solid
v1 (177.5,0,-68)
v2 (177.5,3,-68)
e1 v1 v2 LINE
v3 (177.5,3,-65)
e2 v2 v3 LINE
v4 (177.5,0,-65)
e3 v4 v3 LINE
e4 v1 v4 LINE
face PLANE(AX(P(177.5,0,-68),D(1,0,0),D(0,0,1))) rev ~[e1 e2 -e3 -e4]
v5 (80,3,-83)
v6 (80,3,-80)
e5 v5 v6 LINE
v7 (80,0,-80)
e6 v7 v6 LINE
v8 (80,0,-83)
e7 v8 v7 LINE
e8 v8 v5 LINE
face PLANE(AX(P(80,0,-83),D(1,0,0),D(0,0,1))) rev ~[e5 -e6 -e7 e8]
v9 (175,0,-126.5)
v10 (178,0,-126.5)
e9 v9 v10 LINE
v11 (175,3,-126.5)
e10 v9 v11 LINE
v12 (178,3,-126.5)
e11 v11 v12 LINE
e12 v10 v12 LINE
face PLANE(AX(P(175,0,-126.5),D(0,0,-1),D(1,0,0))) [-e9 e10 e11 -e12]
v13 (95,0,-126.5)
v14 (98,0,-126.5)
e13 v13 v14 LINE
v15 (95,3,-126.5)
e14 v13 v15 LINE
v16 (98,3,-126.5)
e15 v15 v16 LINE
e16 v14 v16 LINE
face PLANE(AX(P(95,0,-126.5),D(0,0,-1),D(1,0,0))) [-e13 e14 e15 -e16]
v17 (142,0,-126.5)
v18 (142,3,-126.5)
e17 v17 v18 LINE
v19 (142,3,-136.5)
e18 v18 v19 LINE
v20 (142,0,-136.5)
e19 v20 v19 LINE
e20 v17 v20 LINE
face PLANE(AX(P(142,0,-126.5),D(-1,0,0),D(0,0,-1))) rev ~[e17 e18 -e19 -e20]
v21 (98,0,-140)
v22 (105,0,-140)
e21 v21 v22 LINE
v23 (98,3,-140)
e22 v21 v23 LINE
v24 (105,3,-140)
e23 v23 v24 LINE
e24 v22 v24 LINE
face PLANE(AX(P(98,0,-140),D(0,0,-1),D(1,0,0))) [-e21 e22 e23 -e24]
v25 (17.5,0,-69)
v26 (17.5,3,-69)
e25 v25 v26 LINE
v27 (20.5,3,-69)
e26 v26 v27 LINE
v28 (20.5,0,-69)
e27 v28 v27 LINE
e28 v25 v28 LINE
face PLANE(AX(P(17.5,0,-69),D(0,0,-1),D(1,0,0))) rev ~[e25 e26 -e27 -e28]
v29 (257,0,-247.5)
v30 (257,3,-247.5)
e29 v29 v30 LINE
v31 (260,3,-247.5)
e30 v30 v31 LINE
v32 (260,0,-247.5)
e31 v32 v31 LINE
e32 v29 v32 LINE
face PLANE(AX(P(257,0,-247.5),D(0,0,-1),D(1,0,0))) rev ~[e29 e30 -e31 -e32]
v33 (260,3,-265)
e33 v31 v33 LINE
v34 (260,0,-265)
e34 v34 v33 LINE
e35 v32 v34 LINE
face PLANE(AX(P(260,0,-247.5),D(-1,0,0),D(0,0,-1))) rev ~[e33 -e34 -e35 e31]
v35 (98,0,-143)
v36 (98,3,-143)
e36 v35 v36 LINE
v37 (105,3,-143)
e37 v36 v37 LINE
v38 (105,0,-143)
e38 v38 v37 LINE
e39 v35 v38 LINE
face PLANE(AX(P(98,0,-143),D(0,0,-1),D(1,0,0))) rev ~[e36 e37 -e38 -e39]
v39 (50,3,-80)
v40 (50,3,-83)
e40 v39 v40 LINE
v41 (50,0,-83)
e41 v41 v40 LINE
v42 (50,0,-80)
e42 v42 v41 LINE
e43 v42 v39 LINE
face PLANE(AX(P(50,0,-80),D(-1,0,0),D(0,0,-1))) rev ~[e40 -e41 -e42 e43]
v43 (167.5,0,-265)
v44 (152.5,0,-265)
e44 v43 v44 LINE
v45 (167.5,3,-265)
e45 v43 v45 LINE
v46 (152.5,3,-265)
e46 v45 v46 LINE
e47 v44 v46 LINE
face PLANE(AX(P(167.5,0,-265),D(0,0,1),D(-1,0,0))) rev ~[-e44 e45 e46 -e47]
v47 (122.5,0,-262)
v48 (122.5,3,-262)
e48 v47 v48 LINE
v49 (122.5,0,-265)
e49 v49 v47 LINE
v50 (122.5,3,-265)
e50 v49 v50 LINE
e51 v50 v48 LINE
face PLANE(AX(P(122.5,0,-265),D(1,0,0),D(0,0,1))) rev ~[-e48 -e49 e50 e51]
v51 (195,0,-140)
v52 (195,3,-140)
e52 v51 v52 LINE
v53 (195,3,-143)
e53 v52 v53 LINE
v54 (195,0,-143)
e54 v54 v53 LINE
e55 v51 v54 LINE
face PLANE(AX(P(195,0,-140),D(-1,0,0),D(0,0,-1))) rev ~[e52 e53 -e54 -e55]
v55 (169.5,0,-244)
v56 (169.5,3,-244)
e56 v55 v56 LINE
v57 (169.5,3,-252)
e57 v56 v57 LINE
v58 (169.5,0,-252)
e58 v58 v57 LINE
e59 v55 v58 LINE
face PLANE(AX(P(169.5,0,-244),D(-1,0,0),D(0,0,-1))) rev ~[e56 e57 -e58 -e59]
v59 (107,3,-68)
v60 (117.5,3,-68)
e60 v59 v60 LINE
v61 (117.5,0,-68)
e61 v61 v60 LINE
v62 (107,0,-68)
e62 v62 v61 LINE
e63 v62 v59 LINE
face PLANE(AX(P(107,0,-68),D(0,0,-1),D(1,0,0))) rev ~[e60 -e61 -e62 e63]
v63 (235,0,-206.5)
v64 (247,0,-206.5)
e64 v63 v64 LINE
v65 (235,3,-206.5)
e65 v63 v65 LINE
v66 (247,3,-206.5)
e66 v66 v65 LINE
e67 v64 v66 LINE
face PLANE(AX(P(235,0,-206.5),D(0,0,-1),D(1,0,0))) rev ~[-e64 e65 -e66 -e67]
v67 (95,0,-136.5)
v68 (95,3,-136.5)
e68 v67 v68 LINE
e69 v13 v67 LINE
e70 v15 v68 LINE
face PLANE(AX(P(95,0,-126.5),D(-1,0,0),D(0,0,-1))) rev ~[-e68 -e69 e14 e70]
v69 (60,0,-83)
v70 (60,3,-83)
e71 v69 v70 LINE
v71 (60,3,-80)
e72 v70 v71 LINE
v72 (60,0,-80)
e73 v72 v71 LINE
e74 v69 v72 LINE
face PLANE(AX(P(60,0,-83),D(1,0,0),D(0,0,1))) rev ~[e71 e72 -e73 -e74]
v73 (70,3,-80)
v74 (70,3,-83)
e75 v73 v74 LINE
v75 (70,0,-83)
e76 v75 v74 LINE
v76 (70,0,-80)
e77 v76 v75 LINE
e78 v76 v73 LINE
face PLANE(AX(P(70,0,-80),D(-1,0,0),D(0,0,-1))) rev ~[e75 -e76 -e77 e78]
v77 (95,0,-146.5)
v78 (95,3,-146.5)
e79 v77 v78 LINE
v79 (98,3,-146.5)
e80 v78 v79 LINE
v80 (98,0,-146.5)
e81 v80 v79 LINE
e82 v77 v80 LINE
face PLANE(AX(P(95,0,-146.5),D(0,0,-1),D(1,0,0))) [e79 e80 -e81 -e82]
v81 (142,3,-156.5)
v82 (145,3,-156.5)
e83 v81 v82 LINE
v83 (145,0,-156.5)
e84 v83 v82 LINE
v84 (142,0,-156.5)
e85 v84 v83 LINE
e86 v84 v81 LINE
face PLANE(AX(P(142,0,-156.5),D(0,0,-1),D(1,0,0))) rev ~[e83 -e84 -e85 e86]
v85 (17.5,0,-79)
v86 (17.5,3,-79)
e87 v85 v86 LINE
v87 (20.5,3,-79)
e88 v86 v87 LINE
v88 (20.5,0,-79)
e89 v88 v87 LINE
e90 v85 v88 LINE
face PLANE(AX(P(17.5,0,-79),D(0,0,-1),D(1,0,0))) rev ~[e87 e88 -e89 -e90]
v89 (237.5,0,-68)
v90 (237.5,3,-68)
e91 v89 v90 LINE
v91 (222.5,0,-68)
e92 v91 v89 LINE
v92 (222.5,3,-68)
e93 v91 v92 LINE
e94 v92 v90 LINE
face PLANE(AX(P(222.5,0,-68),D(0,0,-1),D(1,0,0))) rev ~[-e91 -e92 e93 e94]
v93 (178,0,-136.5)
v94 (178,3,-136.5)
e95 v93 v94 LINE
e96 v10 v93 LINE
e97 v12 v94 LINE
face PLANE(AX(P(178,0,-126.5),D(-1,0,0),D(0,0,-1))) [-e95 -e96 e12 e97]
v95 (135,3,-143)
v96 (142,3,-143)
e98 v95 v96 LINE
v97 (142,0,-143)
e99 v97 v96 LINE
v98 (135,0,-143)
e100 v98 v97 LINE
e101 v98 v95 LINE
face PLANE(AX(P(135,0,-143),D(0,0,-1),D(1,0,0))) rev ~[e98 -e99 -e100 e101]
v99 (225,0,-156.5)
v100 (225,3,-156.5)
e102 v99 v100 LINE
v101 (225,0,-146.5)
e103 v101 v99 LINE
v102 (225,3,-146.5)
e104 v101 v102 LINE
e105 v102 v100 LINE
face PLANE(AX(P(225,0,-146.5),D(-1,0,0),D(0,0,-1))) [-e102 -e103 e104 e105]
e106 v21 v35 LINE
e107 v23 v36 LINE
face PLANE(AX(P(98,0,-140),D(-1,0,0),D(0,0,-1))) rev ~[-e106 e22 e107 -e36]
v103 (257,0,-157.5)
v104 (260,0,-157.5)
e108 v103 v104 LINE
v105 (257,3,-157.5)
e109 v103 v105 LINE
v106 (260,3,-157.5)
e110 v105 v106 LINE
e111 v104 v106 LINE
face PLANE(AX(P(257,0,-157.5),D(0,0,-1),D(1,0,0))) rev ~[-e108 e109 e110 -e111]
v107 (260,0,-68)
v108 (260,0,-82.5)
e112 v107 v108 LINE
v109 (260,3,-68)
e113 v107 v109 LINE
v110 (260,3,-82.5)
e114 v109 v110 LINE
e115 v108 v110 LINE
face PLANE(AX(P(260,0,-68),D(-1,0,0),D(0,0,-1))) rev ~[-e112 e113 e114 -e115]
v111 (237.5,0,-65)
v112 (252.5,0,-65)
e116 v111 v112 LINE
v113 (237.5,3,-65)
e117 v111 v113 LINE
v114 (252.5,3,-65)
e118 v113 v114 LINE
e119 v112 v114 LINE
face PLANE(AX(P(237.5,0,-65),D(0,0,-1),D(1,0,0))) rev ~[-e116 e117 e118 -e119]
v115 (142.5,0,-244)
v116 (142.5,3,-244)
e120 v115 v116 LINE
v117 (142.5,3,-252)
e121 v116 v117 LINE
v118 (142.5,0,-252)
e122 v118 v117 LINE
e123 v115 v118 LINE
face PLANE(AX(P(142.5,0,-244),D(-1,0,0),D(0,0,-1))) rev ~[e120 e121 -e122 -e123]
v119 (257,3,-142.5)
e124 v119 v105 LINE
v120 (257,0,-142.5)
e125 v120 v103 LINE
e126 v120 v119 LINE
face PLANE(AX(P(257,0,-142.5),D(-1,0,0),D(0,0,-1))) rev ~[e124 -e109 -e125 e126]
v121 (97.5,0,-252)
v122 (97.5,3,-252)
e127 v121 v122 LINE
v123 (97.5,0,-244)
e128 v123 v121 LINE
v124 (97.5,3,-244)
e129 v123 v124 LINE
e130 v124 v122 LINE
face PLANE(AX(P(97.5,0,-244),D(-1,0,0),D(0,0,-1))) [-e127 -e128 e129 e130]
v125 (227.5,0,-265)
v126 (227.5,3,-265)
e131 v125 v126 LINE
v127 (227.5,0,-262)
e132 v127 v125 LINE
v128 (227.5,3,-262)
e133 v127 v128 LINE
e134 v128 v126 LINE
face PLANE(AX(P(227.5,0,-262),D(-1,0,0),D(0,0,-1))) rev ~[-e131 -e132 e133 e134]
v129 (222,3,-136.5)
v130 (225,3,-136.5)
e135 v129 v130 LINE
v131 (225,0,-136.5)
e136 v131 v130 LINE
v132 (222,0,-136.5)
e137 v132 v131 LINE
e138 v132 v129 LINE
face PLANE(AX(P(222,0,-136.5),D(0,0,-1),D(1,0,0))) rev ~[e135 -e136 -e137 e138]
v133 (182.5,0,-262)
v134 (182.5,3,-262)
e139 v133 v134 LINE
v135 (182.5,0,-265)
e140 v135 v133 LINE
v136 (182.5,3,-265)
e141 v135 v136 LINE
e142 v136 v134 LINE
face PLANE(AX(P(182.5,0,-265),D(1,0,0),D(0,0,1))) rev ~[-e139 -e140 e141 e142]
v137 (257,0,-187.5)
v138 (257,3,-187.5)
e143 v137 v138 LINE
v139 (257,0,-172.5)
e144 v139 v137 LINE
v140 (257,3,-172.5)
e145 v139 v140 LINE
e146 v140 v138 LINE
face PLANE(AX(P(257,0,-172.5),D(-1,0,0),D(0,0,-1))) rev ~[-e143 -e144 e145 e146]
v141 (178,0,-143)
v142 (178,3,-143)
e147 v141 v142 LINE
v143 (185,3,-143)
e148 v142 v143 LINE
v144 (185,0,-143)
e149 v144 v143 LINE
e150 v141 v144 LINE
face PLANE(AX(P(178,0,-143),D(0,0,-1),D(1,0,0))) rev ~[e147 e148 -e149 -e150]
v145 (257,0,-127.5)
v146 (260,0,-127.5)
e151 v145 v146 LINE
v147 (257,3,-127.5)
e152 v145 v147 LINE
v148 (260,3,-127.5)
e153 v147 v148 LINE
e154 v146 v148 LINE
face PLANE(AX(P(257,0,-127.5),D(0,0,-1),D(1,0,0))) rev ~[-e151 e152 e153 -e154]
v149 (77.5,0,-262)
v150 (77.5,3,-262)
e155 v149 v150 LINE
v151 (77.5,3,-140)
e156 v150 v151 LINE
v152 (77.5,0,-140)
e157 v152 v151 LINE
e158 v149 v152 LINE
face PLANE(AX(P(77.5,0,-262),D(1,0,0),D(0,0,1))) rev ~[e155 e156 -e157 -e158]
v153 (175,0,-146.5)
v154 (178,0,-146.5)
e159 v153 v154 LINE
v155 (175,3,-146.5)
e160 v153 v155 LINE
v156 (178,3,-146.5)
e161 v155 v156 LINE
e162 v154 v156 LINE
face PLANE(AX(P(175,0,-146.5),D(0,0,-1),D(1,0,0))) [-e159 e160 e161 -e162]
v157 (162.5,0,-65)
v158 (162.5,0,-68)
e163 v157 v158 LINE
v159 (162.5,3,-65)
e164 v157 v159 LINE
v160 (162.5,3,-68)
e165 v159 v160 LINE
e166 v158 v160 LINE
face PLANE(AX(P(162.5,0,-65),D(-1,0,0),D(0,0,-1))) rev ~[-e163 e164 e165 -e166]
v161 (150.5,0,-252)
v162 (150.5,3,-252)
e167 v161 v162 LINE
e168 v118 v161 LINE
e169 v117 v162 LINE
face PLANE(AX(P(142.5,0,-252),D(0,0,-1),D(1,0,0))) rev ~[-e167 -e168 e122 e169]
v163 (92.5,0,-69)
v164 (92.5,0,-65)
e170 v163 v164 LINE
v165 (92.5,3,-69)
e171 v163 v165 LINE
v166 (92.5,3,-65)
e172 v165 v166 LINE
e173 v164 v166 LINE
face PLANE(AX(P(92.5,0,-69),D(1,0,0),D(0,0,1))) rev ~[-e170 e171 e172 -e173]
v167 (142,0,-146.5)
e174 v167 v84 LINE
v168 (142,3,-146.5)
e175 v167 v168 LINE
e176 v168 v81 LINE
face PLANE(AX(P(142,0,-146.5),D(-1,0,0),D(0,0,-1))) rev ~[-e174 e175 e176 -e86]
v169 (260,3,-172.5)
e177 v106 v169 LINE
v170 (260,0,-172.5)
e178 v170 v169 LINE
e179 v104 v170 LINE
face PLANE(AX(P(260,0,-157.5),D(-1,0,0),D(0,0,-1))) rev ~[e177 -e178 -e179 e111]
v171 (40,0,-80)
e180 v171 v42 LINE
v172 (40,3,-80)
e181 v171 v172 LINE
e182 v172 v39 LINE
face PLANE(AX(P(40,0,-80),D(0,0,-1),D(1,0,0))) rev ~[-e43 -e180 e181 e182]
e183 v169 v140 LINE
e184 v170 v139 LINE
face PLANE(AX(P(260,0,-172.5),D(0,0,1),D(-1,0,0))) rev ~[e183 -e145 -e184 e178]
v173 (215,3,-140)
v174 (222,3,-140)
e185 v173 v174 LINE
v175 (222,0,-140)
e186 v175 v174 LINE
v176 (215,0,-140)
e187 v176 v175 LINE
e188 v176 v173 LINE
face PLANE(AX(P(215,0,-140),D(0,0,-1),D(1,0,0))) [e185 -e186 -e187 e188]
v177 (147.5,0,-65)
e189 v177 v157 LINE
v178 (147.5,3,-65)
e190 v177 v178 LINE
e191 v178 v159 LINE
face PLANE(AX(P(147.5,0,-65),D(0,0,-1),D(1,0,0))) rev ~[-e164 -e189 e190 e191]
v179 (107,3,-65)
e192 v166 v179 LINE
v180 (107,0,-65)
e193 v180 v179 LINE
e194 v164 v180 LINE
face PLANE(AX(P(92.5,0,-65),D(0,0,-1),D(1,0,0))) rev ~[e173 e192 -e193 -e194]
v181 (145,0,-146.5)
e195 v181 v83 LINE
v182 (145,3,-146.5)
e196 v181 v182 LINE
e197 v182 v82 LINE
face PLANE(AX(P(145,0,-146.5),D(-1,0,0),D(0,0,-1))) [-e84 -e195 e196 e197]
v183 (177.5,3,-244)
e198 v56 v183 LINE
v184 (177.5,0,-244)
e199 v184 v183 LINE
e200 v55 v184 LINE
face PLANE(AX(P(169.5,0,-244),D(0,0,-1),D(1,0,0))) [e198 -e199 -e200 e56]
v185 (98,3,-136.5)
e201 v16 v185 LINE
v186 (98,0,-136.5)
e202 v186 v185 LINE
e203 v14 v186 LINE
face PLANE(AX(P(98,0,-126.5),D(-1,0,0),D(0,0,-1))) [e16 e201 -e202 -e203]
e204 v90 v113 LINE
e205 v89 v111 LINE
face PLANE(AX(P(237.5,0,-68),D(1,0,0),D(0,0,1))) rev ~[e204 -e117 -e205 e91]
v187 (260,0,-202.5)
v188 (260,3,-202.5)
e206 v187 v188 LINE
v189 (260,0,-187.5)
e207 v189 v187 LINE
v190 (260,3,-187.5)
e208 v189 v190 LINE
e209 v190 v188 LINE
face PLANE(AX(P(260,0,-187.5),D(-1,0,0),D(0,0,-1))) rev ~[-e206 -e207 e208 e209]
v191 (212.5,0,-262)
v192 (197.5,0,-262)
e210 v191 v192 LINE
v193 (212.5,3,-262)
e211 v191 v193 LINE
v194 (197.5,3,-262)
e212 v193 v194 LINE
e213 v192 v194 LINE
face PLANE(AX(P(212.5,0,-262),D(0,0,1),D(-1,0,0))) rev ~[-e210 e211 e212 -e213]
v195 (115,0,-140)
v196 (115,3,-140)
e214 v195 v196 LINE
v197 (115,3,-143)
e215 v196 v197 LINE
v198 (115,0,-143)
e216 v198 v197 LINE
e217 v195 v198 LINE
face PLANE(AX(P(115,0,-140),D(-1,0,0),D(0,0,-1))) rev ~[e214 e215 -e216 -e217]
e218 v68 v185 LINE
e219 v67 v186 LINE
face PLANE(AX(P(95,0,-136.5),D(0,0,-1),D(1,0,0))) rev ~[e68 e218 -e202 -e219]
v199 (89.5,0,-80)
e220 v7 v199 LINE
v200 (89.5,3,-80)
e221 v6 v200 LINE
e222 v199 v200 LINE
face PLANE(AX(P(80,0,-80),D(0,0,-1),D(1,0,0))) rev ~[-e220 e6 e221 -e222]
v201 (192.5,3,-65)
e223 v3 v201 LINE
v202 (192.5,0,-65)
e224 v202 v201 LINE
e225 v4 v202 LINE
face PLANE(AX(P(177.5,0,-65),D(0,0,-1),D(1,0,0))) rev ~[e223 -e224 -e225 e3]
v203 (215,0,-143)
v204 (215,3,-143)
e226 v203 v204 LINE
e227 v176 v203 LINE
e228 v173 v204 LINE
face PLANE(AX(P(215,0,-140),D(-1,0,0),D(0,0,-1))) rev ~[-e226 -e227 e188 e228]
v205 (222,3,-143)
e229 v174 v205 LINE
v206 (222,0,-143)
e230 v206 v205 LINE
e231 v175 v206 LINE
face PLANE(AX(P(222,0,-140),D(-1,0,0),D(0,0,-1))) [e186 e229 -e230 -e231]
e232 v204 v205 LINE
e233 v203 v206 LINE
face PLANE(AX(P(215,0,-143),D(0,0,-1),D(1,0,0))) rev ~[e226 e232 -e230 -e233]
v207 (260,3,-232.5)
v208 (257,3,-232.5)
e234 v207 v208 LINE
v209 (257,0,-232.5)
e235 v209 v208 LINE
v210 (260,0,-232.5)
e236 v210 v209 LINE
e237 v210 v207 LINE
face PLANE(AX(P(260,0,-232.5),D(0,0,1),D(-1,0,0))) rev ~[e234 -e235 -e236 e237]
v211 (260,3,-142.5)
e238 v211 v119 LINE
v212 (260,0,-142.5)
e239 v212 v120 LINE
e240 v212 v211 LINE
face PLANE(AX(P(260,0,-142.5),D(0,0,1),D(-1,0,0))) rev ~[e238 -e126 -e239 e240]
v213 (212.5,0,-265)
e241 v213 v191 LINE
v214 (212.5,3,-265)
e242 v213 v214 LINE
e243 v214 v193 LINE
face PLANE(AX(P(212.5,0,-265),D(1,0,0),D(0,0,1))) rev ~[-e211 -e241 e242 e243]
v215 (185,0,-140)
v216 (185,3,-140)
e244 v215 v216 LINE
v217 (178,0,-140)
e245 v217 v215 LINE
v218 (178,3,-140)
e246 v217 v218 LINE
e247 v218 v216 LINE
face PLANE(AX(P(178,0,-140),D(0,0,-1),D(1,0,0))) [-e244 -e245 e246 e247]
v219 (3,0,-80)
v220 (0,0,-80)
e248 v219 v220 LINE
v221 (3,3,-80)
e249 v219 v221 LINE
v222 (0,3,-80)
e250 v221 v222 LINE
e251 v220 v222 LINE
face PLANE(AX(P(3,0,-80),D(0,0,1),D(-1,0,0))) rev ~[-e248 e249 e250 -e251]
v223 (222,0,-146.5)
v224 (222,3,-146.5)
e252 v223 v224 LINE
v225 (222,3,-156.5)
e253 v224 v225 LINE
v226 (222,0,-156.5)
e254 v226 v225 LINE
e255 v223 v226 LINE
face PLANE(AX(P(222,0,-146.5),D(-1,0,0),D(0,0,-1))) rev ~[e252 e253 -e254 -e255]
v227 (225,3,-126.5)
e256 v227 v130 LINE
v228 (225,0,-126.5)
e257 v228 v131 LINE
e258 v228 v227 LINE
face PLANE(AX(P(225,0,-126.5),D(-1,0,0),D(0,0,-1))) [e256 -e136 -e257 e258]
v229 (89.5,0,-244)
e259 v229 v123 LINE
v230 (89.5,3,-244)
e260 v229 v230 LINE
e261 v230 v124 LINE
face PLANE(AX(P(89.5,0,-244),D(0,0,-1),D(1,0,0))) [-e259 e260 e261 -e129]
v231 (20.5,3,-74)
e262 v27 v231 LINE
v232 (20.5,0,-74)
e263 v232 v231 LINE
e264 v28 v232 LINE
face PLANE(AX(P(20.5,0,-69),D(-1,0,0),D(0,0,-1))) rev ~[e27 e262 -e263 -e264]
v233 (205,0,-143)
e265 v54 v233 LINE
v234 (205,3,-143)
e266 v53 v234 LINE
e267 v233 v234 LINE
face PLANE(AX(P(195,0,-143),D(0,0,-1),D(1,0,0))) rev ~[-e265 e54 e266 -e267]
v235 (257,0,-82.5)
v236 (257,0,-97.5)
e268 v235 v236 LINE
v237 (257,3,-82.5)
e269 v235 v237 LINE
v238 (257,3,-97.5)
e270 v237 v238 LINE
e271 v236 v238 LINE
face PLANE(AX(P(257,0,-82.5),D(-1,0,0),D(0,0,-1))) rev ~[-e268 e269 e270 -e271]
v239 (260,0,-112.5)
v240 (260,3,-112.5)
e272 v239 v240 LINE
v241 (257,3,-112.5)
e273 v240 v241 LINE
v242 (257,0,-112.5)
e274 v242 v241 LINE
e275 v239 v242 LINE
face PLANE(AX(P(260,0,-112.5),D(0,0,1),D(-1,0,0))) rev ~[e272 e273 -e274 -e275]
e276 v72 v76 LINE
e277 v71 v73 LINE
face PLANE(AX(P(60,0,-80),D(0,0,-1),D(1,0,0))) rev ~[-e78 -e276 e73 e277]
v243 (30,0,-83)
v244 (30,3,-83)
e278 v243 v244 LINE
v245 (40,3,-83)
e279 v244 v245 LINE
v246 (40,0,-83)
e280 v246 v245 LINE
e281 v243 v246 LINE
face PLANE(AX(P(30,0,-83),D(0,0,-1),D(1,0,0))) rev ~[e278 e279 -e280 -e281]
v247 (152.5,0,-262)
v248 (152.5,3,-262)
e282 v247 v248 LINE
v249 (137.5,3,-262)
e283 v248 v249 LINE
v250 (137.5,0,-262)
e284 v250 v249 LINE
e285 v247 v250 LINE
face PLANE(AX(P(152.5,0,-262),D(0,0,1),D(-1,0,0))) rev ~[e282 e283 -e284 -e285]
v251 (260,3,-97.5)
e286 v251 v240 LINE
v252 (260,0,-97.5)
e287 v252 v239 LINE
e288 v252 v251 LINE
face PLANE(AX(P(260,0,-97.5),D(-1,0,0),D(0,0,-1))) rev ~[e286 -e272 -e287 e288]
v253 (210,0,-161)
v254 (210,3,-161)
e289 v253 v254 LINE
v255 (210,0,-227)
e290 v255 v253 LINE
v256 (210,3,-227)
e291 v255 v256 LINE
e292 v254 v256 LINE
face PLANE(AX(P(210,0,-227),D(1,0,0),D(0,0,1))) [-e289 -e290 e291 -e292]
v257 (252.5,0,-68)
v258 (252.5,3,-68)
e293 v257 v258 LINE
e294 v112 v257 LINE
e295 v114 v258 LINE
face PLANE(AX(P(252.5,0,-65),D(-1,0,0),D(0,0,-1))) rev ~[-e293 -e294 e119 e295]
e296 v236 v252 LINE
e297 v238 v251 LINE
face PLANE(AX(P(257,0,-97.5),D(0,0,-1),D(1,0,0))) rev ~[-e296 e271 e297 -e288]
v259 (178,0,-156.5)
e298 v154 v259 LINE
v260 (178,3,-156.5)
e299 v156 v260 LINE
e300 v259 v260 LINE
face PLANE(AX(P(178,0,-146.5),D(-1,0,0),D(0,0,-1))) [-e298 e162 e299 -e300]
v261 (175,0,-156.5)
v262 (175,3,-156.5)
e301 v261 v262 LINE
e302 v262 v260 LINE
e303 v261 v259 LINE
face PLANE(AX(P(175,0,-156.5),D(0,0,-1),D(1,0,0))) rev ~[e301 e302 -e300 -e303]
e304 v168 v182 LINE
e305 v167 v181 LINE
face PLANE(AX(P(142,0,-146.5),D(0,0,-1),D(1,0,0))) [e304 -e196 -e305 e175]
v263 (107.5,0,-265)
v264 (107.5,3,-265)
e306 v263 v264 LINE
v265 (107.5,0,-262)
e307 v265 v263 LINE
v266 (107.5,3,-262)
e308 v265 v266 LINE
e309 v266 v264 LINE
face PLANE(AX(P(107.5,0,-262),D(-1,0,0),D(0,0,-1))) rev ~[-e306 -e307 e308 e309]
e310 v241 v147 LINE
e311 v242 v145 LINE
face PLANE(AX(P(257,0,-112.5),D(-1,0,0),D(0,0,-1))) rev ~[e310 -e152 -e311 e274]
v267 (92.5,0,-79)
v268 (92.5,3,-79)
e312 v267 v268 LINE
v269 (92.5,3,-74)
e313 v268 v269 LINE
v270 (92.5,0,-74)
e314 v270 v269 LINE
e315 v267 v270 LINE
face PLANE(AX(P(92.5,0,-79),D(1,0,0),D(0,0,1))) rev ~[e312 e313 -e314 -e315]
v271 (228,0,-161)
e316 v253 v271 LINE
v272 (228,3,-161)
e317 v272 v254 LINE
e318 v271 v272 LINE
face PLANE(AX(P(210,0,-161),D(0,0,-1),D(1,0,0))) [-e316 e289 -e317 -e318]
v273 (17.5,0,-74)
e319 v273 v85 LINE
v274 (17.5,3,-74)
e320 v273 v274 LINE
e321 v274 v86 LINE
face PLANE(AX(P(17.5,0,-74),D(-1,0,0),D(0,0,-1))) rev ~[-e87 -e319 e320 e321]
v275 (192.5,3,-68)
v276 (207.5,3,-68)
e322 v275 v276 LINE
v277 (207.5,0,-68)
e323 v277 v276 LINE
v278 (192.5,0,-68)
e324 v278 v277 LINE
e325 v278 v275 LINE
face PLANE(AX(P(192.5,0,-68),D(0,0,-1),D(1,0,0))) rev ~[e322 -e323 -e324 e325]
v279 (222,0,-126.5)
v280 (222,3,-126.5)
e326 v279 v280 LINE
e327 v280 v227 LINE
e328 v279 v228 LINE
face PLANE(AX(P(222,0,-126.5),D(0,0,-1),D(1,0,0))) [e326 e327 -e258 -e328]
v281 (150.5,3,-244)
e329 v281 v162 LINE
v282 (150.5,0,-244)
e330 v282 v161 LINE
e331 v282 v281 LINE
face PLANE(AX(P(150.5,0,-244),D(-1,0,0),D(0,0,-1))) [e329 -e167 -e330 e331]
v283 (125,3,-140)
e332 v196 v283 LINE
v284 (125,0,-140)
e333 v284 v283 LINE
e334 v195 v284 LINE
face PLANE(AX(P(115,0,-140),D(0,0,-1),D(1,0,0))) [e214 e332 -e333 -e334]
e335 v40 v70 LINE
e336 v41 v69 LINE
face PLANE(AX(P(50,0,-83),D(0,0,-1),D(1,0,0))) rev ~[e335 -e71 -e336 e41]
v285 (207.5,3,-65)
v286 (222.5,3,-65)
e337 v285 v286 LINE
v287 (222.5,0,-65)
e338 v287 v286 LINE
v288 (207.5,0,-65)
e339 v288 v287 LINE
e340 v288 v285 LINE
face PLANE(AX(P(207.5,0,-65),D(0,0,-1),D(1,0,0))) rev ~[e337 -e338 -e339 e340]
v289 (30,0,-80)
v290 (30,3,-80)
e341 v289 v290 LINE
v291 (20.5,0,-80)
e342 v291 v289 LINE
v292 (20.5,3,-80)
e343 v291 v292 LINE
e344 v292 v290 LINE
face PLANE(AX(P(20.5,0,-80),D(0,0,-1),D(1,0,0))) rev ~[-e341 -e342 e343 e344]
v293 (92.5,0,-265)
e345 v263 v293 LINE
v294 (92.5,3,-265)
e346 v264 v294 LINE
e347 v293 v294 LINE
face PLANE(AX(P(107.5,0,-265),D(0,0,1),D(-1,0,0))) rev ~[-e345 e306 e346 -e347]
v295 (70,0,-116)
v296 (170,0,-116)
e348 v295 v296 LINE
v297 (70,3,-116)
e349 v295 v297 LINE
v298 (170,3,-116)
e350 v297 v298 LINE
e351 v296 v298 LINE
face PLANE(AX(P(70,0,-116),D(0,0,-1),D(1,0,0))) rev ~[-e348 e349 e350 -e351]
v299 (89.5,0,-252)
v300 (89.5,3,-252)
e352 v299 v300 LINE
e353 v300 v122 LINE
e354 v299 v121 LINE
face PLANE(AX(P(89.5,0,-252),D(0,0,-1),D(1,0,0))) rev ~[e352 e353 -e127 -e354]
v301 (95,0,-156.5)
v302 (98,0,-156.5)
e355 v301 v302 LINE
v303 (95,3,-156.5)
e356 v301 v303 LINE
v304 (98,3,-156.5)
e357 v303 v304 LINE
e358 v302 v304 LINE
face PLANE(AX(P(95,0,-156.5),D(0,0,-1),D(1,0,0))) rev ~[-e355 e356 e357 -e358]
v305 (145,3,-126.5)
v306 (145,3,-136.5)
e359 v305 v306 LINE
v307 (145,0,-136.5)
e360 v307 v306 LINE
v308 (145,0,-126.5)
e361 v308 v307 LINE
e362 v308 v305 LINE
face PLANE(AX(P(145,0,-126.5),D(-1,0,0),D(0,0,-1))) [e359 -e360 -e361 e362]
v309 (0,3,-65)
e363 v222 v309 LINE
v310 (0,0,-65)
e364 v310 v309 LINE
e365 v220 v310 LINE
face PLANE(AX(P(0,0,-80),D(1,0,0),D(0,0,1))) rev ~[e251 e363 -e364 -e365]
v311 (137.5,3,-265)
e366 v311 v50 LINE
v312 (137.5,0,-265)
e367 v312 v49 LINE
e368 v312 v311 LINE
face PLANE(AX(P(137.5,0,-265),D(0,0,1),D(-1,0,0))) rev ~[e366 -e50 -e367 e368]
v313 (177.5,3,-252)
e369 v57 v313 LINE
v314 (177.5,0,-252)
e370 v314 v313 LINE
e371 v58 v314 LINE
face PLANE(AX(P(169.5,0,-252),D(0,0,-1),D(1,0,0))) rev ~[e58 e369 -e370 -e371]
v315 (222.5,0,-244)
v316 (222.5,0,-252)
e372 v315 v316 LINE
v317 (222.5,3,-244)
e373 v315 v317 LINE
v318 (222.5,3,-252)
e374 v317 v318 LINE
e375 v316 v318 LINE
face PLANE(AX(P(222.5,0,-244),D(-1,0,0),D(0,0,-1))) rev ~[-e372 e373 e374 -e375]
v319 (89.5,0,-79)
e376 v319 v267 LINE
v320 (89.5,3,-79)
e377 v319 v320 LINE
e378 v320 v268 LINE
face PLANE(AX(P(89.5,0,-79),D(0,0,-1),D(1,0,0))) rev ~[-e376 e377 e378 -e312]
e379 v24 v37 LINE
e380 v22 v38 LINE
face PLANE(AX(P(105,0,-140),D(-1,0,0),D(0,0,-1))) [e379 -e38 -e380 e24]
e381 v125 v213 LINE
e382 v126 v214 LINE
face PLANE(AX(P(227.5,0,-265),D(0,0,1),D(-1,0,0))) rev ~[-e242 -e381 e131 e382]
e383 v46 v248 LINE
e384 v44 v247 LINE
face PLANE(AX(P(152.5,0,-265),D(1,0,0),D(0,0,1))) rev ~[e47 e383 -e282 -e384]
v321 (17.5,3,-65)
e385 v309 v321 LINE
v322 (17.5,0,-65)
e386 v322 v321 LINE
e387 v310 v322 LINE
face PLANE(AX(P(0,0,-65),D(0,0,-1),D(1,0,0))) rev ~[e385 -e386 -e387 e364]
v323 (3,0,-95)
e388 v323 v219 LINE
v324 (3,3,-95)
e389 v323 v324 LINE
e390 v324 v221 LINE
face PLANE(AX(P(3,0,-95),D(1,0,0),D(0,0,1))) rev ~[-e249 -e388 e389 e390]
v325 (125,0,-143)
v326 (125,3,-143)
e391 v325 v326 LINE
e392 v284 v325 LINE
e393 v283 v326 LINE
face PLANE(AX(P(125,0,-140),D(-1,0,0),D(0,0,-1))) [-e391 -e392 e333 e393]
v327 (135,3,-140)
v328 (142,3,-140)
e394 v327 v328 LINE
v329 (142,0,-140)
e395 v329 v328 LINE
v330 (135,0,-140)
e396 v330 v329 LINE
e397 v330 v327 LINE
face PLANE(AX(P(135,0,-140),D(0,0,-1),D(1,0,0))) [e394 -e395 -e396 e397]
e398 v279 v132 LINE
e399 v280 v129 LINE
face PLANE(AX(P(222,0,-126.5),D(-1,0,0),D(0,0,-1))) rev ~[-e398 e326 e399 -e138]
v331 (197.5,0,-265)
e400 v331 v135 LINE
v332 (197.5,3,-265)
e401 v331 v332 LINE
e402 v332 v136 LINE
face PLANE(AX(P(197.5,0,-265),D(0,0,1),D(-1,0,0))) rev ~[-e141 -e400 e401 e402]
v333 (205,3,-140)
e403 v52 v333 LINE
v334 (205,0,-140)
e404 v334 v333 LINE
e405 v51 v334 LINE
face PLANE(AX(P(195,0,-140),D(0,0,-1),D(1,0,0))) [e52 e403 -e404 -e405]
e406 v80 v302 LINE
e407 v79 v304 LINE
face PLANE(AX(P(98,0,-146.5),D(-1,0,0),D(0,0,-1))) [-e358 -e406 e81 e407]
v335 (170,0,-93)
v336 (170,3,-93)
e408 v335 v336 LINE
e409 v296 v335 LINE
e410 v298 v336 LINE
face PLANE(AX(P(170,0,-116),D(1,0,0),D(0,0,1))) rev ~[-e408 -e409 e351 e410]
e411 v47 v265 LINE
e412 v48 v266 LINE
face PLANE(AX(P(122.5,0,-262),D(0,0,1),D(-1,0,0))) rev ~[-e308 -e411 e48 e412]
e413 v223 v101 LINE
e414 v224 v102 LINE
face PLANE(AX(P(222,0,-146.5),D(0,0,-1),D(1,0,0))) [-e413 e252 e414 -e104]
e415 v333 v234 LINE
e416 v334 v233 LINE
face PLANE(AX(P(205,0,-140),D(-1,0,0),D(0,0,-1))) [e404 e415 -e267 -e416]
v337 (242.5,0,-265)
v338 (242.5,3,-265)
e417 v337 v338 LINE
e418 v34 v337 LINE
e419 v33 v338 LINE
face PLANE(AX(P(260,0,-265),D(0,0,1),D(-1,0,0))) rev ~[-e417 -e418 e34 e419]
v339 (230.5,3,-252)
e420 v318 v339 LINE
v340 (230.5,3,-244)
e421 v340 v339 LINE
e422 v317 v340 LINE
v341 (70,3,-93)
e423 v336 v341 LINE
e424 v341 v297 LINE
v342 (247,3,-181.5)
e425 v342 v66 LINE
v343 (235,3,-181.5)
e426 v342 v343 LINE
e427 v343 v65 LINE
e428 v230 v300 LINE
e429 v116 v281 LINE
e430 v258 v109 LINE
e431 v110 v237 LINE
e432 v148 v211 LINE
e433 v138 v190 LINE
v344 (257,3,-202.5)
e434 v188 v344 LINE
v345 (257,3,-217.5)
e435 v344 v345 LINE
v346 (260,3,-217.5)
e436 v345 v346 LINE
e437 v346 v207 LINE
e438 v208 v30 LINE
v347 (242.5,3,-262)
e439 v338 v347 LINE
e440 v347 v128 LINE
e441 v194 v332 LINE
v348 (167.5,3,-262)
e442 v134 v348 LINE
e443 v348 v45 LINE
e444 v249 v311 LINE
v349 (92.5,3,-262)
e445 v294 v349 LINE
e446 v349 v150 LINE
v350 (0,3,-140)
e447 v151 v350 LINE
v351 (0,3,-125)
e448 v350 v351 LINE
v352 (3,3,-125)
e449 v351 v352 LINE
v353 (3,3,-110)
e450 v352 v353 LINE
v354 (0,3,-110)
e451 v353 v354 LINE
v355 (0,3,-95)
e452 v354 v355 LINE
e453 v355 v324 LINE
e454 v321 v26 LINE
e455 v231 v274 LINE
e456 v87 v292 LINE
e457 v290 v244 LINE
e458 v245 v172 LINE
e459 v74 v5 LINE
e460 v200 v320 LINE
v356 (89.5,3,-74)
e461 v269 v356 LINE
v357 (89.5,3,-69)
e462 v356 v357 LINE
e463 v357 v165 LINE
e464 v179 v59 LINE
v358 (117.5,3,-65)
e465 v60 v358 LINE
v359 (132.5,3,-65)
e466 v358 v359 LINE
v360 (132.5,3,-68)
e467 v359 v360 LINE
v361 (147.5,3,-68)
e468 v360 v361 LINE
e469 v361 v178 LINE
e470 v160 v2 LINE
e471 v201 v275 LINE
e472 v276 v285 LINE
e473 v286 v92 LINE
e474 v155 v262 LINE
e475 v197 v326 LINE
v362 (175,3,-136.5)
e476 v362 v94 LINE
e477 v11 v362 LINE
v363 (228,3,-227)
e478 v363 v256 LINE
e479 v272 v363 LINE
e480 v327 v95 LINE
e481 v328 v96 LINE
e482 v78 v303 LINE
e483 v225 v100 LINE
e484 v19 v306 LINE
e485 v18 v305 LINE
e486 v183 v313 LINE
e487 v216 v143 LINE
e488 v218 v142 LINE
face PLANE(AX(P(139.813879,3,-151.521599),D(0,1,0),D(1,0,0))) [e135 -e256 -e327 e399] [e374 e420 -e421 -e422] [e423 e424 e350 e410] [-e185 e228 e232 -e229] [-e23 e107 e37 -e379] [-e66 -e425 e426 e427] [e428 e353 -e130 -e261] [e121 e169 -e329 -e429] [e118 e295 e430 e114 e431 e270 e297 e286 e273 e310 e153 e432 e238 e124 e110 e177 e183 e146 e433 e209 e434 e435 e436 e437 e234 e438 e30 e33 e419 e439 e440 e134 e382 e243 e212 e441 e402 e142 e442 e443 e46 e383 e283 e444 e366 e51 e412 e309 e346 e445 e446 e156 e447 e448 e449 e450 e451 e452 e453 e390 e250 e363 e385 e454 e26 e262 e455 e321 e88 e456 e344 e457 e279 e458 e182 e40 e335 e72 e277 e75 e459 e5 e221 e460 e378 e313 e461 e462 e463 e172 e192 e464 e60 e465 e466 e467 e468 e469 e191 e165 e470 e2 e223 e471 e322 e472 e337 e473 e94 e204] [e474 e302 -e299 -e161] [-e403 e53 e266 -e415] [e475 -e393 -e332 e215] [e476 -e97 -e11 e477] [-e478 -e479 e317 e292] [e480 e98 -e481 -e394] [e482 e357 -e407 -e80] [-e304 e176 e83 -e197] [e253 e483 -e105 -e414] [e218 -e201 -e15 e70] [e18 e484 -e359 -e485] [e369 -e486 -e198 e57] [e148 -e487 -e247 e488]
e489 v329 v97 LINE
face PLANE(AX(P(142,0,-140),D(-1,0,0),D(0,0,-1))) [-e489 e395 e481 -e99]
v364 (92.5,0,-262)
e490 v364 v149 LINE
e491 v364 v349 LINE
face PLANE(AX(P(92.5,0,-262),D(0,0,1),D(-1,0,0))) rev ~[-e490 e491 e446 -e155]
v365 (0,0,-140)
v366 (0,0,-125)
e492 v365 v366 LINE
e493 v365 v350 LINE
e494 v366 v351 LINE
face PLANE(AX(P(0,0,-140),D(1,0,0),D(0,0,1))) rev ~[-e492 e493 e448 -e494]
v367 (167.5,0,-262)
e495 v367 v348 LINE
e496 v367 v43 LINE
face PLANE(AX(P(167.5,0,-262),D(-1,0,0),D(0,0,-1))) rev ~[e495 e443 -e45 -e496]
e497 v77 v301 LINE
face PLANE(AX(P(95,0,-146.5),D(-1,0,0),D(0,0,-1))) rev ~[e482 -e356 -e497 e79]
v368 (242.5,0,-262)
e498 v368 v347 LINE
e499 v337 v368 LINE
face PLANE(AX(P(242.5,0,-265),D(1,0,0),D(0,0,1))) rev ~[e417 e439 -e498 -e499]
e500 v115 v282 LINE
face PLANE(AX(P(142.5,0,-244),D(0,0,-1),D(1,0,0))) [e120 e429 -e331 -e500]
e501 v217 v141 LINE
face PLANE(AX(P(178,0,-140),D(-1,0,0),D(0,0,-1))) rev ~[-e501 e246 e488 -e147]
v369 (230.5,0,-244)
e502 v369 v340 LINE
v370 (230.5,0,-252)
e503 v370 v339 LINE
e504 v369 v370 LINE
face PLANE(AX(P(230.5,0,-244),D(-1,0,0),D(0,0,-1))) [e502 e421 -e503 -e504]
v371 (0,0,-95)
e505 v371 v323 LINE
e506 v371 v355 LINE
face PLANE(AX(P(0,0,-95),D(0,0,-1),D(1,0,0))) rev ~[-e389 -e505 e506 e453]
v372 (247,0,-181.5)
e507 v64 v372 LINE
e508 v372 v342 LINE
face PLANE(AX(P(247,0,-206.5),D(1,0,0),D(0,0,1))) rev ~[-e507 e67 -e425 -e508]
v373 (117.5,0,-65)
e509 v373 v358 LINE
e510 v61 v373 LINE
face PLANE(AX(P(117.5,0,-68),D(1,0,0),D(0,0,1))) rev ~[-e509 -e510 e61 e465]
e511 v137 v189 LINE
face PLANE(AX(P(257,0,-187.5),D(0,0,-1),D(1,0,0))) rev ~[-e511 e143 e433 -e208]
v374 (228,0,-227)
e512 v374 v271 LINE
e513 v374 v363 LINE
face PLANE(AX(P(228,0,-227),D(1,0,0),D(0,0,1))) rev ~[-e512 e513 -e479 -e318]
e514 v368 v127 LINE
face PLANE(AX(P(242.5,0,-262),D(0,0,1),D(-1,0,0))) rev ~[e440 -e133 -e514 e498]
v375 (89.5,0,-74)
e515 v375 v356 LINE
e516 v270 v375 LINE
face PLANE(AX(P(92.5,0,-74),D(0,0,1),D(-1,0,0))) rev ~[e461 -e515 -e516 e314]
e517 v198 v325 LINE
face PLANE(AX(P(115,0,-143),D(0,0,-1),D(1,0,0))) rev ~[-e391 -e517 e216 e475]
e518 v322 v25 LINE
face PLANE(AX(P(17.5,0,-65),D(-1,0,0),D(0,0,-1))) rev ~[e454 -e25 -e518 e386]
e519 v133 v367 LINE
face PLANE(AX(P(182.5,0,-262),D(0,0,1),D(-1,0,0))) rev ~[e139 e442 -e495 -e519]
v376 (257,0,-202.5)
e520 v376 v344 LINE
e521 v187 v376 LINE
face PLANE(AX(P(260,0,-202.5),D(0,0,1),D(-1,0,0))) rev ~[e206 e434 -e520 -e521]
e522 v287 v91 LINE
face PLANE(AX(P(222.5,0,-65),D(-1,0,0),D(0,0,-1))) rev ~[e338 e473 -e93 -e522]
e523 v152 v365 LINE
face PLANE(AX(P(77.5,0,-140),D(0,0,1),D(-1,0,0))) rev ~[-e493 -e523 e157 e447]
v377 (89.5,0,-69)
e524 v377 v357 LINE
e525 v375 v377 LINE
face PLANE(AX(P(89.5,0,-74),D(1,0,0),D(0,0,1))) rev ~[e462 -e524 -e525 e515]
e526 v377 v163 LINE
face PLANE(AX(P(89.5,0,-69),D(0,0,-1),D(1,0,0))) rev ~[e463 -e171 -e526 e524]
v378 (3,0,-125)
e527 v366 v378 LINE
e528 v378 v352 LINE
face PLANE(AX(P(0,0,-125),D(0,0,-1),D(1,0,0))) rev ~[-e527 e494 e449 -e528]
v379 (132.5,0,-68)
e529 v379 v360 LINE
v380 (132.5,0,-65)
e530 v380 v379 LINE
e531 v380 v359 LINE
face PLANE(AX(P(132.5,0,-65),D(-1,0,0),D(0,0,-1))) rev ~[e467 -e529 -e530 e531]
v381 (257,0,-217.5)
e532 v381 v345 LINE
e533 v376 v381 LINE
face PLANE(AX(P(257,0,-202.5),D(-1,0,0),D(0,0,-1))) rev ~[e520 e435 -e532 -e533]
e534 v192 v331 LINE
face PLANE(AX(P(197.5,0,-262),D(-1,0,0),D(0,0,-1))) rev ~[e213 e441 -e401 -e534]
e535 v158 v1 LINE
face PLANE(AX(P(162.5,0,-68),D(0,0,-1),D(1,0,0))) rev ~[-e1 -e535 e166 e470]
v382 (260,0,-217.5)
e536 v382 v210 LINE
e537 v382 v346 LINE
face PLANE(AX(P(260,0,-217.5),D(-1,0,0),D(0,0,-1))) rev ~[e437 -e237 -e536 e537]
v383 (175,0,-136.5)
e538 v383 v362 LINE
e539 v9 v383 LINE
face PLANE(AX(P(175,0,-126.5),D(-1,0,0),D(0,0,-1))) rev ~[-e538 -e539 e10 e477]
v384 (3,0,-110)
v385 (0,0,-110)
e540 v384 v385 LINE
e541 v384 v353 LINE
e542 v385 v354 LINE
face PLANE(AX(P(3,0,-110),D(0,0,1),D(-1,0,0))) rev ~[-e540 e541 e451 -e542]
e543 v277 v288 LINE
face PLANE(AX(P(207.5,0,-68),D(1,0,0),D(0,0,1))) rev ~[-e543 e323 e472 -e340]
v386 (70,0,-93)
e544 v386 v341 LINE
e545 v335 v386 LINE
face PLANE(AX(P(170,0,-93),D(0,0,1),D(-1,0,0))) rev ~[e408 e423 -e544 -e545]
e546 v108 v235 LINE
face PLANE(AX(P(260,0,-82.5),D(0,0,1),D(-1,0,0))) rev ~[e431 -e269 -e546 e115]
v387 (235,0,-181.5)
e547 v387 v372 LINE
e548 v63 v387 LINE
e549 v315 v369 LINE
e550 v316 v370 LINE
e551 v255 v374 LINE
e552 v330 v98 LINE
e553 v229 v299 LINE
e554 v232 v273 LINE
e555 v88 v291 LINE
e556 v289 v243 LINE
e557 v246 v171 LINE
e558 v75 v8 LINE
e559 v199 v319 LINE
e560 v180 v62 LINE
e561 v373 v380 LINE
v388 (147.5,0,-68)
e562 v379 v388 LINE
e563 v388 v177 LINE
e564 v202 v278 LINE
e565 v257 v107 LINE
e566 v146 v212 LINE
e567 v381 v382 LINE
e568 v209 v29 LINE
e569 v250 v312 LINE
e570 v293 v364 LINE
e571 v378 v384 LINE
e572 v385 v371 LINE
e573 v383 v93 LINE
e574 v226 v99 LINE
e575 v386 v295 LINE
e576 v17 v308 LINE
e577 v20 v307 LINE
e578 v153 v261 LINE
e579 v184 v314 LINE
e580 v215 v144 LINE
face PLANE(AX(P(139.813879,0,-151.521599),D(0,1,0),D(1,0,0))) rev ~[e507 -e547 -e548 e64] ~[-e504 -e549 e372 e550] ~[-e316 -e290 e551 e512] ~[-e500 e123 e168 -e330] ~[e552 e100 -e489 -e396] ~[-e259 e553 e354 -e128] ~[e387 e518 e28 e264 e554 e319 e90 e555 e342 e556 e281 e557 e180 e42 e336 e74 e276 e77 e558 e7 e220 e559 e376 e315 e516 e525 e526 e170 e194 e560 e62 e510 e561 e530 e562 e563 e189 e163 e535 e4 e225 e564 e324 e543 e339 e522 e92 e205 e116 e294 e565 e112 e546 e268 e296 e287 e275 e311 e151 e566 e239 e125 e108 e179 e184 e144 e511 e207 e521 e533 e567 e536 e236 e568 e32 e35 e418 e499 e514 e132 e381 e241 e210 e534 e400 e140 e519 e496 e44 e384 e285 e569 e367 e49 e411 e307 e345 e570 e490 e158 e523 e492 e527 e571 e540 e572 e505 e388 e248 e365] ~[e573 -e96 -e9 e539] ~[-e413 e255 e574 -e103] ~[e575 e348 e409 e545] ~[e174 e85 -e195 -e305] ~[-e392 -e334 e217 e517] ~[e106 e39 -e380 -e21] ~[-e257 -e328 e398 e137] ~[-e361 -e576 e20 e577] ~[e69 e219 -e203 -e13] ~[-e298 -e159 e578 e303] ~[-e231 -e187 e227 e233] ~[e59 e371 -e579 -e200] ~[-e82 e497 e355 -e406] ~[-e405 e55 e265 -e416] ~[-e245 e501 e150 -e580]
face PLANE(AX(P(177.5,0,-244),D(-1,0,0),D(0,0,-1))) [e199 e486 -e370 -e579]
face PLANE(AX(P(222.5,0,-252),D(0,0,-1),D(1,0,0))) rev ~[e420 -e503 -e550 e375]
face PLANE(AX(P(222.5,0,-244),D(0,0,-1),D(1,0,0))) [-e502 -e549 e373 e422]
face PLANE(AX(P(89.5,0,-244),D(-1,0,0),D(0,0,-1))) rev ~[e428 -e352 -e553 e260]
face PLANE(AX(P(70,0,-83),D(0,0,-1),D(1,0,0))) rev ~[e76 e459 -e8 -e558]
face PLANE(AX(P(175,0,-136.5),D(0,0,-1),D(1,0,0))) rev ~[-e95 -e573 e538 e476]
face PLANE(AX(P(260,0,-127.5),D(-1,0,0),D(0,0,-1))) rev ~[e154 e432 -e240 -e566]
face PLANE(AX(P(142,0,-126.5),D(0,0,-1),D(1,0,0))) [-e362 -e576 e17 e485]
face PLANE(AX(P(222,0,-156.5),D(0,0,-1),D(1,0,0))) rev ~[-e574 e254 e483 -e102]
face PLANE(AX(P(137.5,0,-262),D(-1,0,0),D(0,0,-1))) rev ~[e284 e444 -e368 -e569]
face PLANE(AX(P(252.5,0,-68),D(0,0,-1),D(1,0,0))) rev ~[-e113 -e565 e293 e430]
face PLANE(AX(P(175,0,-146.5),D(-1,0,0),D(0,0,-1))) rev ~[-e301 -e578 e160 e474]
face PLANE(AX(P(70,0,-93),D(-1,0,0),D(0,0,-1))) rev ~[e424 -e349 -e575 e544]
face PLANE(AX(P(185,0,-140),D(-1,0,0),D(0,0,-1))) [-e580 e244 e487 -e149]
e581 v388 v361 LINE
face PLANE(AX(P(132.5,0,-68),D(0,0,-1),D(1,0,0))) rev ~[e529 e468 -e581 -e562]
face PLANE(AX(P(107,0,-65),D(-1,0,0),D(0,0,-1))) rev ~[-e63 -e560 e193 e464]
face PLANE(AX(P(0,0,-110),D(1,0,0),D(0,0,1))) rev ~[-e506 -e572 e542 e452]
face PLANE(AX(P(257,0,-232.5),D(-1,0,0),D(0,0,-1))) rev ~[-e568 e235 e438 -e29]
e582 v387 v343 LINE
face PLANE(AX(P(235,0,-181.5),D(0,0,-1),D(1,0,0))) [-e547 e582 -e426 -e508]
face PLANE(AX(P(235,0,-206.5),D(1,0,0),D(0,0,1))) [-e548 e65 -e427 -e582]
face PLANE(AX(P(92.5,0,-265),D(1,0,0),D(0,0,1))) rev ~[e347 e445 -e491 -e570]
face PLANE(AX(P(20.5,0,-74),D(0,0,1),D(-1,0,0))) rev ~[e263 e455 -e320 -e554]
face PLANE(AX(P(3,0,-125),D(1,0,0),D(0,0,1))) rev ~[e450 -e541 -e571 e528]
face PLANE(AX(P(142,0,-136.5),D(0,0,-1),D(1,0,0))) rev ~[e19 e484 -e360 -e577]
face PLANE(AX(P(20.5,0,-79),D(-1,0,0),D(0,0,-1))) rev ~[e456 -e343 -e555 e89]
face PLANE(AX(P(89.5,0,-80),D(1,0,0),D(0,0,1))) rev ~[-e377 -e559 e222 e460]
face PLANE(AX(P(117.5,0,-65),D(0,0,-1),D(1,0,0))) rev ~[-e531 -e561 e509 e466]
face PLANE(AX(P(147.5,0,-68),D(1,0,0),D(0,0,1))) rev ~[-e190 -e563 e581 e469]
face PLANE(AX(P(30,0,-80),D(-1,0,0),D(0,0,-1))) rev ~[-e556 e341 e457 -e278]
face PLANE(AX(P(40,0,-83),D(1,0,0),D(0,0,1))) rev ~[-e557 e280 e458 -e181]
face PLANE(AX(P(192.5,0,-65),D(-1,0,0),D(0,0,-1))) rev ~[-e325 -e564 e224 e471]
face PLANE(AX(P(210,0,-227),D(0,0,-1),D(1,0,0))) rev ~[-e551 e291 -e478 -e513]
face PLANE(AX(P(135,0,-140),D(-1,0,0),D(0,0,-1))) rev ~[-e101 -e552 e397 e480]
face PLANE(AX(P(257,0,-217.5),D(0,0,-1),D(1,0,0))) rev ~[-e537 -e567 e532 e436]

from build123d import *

# Parameters (mm, degrees)
CROQUIS1_W              = 10
CROQUIS1_H              = 3
CROQUIS1_W_2            = 3
CROQUIS1_H_2            = 10
CROQUIS1_W_3            = 7
CROQUIS1_W_4            = 8
CROQUIS1_H_3            = 8
SALIENTE_EXTRUIR1_DEPTH = 3
SKETCH1_W               = 12
SKETCH1_H               = 25
SKETCH1_W_2             = 18
SKETCH1_H_2             = 66
CUT_EXTRUDE2_DEPTH      = 10


with BuildPart() as part:
    # Croquis1 → Saliente-Extruir1 (new body)
    with BuildSketch(Plane(origin=(0, 0, 0), x_dir=(1, 0, 0), z_dir=(0, 1, 0))):
        Polygon((17.5, 79), (20.5, 79), (20.5, 80), (25.626440042, 80), (30, 80), (30, 83), (40, 83), (40, 80), (50, 80), (50, 83), (60, 83), (60, 80), (70, 80), (70, 83), (80, 83), (80, 80), (84.373559958, 80), (89.5, 80), (89.5, 79), (92.5, 79), (92.5, 74), (89.5, 74), (89.5, 69), (92.5, 69), (92.5, 65), (107, 65), (107, 68), (117.5, 68), (117.5, 65), (132.5, 65), (132.5, 68), (147.5, 68), (147.5, 65), (162.5, 65), (162.5, 68), (177.5, 68), (177.5, 65), (192.5, 65), (192.5, 68), (207.5, 68), (207.5, 65), (222.5, 65), (222.5, 68), (237.5, 68), (237.5, 65), (252.5, 65), (252.5, 68), (260, 68), (260, 82.5), (257, 82.5), (257, 97.5), (260, 97.5), (260, 112.5), (257, 112.5), (257, 127.5), (260, 127.5), (260, 142.5), (257, 142.5), (257, 157.5), (260, 157.5), (260, 172.5), (257, 172.5), (257, 187.5), (260, 187.5), (260, 202.5), (257, 202.5), (257, 217.5), (260, 217.5), (260, 232.5), (257, 232.5), (257, 247.5), (260, 247.5), (260, 265), (242.5, 265), (242.5, 262), (227.5, 262), (227.5, 265), (212.5, 265), (212.5, 262), (197.5, 262), (197.5, 265), (182.5, 265), (182.5, 262), (167.5, 262), (167.5, 265), (152.5, 265), (152.5, 262), (137.5, 262), (137.5, 265), (122.5, 265), (122.5, 262), (107.5, 262), (107.5, 265), (92.5, 265), (92.5, 262), (77.5, 262), (77.5, 155), (77.5, 140), (3, 140), (0, 140), (0, 125), (3, 125), (3, 110), (0, 110), (0, 95), (3, 95), (3, 80), (0, 80), (0, 65), (17.5, 65), (17.5, 69), (20.5, 69), (20.5, 74), (17.5, 74), align=None)
        with Locations((120, 141.5)):
            Rectangle(CROQUIS1_W, CROQUIS1_H, mode=Mode.SUBTRACT)
        Polygon((120, 93), (70, 93), (70, 116), (170, 116), (170, 93), align=None, mode=Mode.SUBTRACT)
        with Locations((200, 141.5)):
            Rectangle(CROQUIS1_W, CROQUIS1_H, mode=Mode.SUBTRACT)
        with Locations((96.5, 151.5)):
            Rectangle(CROQUIS1_W_2, CROQUIS1_H_2, mode=Mode.SUBTRACT)
        with Locations((96.5, 131.5)):
            Rectangle(CROQUIS1_W_2, CROQUIS1_H_2, mode=Mode.SUBTRACT)
        with Locations((101.5, 141.5)):
            Rectangle(CROQUIS1_W_3, CROQUIS1_H, mode=Mode.SUBTRACT)
        with Locations((143.5, 151.5)):
            Rectangle(CROQUIS1_W_2, CROQUIS1_H_2, mode=Mode.SUBTRACT)
        with Locations((143.5, 131.5)):
            Rectangle(CROQUIS1_W_2, CROQUIS1_H_2, mode=Mode.SUBTRACT)
        with Locations((176.5, 151.5)):
            Rectangle(CROQUIS1_W_2, CROQUIS1_H_2, mode=Mode.SUBTRACT)
        with Locations((138.5, 141.5)):
            Rectangle(CROQUIS1_W_3, CROQUIS1_H, mode=Mode.SUBTRACT)
        with Locations((181.5, 141.5)):
            Rectangle(CROQUIS1_W_3, CROQUIS1_H, mode=Mode.SUBTRACT)
        with Locations((223.5, 151.5)):
            Rectangle(CROQUIS1_W_2, CROQUIS1_H_2, mode=Mode.SUBTRACT)
        with Locations((218.5, 141.5)):
            Rectangle(CROQUIS1_W_3, CROQUIS1_H, mode=Mode.SUBTRACT)
        with Locations((176.5, 131.5)):
            Rectangle(CROQUIS1_W_2, CROQUIS1_H_2, mode=Mode.SUBTRACT)
        with Locations((223.5, 131.5)):
            Rectangle(CROQUIS1_W_2, CROQUIS1_H_2, mode=Mode.SUBTRACT)
        with Locations((93.5, 248)):
            Rectangle(CROQUIS1_W_4, CROQUIS1_H_3, mode=Mode.SUBTRACT)
        with Locations((146.5, 248)):
            Rectangle(CROQUIS1_W_4, CROQUIS1_H_3, mode=Mode.SUBTRACT)
        with Locations((173.5, 248)):
            Rectangle(CROQUIS1_W_4, CROQUIS1_H_3, mode=Mode.SUBTRACT)
        with Locations((226.5, 248)):
            Rectangle(CROQUIS1_W_4, CROQUIS1_H_3, mode=Mode.SUBTRACT)
    extrude(amount=SALIENTE_EXTRUIR1_DEPTH)

    # Sketch1 → Cut-Extrude2 (cut)
    with BuildSketch(Plane.XZ):
        with Locations((241, -194)):
            Rectangle(SKETCH1_W, SKETCH1_H)
        with Locations((219, -194)):
            Rectangle(SKETCH1_W_2, SKETCH1_H_2)
    extrude(amount=-CUT_EXTRUDE2_DEPTH, mode=Mode.SUBTRACT)


solid = part.part
